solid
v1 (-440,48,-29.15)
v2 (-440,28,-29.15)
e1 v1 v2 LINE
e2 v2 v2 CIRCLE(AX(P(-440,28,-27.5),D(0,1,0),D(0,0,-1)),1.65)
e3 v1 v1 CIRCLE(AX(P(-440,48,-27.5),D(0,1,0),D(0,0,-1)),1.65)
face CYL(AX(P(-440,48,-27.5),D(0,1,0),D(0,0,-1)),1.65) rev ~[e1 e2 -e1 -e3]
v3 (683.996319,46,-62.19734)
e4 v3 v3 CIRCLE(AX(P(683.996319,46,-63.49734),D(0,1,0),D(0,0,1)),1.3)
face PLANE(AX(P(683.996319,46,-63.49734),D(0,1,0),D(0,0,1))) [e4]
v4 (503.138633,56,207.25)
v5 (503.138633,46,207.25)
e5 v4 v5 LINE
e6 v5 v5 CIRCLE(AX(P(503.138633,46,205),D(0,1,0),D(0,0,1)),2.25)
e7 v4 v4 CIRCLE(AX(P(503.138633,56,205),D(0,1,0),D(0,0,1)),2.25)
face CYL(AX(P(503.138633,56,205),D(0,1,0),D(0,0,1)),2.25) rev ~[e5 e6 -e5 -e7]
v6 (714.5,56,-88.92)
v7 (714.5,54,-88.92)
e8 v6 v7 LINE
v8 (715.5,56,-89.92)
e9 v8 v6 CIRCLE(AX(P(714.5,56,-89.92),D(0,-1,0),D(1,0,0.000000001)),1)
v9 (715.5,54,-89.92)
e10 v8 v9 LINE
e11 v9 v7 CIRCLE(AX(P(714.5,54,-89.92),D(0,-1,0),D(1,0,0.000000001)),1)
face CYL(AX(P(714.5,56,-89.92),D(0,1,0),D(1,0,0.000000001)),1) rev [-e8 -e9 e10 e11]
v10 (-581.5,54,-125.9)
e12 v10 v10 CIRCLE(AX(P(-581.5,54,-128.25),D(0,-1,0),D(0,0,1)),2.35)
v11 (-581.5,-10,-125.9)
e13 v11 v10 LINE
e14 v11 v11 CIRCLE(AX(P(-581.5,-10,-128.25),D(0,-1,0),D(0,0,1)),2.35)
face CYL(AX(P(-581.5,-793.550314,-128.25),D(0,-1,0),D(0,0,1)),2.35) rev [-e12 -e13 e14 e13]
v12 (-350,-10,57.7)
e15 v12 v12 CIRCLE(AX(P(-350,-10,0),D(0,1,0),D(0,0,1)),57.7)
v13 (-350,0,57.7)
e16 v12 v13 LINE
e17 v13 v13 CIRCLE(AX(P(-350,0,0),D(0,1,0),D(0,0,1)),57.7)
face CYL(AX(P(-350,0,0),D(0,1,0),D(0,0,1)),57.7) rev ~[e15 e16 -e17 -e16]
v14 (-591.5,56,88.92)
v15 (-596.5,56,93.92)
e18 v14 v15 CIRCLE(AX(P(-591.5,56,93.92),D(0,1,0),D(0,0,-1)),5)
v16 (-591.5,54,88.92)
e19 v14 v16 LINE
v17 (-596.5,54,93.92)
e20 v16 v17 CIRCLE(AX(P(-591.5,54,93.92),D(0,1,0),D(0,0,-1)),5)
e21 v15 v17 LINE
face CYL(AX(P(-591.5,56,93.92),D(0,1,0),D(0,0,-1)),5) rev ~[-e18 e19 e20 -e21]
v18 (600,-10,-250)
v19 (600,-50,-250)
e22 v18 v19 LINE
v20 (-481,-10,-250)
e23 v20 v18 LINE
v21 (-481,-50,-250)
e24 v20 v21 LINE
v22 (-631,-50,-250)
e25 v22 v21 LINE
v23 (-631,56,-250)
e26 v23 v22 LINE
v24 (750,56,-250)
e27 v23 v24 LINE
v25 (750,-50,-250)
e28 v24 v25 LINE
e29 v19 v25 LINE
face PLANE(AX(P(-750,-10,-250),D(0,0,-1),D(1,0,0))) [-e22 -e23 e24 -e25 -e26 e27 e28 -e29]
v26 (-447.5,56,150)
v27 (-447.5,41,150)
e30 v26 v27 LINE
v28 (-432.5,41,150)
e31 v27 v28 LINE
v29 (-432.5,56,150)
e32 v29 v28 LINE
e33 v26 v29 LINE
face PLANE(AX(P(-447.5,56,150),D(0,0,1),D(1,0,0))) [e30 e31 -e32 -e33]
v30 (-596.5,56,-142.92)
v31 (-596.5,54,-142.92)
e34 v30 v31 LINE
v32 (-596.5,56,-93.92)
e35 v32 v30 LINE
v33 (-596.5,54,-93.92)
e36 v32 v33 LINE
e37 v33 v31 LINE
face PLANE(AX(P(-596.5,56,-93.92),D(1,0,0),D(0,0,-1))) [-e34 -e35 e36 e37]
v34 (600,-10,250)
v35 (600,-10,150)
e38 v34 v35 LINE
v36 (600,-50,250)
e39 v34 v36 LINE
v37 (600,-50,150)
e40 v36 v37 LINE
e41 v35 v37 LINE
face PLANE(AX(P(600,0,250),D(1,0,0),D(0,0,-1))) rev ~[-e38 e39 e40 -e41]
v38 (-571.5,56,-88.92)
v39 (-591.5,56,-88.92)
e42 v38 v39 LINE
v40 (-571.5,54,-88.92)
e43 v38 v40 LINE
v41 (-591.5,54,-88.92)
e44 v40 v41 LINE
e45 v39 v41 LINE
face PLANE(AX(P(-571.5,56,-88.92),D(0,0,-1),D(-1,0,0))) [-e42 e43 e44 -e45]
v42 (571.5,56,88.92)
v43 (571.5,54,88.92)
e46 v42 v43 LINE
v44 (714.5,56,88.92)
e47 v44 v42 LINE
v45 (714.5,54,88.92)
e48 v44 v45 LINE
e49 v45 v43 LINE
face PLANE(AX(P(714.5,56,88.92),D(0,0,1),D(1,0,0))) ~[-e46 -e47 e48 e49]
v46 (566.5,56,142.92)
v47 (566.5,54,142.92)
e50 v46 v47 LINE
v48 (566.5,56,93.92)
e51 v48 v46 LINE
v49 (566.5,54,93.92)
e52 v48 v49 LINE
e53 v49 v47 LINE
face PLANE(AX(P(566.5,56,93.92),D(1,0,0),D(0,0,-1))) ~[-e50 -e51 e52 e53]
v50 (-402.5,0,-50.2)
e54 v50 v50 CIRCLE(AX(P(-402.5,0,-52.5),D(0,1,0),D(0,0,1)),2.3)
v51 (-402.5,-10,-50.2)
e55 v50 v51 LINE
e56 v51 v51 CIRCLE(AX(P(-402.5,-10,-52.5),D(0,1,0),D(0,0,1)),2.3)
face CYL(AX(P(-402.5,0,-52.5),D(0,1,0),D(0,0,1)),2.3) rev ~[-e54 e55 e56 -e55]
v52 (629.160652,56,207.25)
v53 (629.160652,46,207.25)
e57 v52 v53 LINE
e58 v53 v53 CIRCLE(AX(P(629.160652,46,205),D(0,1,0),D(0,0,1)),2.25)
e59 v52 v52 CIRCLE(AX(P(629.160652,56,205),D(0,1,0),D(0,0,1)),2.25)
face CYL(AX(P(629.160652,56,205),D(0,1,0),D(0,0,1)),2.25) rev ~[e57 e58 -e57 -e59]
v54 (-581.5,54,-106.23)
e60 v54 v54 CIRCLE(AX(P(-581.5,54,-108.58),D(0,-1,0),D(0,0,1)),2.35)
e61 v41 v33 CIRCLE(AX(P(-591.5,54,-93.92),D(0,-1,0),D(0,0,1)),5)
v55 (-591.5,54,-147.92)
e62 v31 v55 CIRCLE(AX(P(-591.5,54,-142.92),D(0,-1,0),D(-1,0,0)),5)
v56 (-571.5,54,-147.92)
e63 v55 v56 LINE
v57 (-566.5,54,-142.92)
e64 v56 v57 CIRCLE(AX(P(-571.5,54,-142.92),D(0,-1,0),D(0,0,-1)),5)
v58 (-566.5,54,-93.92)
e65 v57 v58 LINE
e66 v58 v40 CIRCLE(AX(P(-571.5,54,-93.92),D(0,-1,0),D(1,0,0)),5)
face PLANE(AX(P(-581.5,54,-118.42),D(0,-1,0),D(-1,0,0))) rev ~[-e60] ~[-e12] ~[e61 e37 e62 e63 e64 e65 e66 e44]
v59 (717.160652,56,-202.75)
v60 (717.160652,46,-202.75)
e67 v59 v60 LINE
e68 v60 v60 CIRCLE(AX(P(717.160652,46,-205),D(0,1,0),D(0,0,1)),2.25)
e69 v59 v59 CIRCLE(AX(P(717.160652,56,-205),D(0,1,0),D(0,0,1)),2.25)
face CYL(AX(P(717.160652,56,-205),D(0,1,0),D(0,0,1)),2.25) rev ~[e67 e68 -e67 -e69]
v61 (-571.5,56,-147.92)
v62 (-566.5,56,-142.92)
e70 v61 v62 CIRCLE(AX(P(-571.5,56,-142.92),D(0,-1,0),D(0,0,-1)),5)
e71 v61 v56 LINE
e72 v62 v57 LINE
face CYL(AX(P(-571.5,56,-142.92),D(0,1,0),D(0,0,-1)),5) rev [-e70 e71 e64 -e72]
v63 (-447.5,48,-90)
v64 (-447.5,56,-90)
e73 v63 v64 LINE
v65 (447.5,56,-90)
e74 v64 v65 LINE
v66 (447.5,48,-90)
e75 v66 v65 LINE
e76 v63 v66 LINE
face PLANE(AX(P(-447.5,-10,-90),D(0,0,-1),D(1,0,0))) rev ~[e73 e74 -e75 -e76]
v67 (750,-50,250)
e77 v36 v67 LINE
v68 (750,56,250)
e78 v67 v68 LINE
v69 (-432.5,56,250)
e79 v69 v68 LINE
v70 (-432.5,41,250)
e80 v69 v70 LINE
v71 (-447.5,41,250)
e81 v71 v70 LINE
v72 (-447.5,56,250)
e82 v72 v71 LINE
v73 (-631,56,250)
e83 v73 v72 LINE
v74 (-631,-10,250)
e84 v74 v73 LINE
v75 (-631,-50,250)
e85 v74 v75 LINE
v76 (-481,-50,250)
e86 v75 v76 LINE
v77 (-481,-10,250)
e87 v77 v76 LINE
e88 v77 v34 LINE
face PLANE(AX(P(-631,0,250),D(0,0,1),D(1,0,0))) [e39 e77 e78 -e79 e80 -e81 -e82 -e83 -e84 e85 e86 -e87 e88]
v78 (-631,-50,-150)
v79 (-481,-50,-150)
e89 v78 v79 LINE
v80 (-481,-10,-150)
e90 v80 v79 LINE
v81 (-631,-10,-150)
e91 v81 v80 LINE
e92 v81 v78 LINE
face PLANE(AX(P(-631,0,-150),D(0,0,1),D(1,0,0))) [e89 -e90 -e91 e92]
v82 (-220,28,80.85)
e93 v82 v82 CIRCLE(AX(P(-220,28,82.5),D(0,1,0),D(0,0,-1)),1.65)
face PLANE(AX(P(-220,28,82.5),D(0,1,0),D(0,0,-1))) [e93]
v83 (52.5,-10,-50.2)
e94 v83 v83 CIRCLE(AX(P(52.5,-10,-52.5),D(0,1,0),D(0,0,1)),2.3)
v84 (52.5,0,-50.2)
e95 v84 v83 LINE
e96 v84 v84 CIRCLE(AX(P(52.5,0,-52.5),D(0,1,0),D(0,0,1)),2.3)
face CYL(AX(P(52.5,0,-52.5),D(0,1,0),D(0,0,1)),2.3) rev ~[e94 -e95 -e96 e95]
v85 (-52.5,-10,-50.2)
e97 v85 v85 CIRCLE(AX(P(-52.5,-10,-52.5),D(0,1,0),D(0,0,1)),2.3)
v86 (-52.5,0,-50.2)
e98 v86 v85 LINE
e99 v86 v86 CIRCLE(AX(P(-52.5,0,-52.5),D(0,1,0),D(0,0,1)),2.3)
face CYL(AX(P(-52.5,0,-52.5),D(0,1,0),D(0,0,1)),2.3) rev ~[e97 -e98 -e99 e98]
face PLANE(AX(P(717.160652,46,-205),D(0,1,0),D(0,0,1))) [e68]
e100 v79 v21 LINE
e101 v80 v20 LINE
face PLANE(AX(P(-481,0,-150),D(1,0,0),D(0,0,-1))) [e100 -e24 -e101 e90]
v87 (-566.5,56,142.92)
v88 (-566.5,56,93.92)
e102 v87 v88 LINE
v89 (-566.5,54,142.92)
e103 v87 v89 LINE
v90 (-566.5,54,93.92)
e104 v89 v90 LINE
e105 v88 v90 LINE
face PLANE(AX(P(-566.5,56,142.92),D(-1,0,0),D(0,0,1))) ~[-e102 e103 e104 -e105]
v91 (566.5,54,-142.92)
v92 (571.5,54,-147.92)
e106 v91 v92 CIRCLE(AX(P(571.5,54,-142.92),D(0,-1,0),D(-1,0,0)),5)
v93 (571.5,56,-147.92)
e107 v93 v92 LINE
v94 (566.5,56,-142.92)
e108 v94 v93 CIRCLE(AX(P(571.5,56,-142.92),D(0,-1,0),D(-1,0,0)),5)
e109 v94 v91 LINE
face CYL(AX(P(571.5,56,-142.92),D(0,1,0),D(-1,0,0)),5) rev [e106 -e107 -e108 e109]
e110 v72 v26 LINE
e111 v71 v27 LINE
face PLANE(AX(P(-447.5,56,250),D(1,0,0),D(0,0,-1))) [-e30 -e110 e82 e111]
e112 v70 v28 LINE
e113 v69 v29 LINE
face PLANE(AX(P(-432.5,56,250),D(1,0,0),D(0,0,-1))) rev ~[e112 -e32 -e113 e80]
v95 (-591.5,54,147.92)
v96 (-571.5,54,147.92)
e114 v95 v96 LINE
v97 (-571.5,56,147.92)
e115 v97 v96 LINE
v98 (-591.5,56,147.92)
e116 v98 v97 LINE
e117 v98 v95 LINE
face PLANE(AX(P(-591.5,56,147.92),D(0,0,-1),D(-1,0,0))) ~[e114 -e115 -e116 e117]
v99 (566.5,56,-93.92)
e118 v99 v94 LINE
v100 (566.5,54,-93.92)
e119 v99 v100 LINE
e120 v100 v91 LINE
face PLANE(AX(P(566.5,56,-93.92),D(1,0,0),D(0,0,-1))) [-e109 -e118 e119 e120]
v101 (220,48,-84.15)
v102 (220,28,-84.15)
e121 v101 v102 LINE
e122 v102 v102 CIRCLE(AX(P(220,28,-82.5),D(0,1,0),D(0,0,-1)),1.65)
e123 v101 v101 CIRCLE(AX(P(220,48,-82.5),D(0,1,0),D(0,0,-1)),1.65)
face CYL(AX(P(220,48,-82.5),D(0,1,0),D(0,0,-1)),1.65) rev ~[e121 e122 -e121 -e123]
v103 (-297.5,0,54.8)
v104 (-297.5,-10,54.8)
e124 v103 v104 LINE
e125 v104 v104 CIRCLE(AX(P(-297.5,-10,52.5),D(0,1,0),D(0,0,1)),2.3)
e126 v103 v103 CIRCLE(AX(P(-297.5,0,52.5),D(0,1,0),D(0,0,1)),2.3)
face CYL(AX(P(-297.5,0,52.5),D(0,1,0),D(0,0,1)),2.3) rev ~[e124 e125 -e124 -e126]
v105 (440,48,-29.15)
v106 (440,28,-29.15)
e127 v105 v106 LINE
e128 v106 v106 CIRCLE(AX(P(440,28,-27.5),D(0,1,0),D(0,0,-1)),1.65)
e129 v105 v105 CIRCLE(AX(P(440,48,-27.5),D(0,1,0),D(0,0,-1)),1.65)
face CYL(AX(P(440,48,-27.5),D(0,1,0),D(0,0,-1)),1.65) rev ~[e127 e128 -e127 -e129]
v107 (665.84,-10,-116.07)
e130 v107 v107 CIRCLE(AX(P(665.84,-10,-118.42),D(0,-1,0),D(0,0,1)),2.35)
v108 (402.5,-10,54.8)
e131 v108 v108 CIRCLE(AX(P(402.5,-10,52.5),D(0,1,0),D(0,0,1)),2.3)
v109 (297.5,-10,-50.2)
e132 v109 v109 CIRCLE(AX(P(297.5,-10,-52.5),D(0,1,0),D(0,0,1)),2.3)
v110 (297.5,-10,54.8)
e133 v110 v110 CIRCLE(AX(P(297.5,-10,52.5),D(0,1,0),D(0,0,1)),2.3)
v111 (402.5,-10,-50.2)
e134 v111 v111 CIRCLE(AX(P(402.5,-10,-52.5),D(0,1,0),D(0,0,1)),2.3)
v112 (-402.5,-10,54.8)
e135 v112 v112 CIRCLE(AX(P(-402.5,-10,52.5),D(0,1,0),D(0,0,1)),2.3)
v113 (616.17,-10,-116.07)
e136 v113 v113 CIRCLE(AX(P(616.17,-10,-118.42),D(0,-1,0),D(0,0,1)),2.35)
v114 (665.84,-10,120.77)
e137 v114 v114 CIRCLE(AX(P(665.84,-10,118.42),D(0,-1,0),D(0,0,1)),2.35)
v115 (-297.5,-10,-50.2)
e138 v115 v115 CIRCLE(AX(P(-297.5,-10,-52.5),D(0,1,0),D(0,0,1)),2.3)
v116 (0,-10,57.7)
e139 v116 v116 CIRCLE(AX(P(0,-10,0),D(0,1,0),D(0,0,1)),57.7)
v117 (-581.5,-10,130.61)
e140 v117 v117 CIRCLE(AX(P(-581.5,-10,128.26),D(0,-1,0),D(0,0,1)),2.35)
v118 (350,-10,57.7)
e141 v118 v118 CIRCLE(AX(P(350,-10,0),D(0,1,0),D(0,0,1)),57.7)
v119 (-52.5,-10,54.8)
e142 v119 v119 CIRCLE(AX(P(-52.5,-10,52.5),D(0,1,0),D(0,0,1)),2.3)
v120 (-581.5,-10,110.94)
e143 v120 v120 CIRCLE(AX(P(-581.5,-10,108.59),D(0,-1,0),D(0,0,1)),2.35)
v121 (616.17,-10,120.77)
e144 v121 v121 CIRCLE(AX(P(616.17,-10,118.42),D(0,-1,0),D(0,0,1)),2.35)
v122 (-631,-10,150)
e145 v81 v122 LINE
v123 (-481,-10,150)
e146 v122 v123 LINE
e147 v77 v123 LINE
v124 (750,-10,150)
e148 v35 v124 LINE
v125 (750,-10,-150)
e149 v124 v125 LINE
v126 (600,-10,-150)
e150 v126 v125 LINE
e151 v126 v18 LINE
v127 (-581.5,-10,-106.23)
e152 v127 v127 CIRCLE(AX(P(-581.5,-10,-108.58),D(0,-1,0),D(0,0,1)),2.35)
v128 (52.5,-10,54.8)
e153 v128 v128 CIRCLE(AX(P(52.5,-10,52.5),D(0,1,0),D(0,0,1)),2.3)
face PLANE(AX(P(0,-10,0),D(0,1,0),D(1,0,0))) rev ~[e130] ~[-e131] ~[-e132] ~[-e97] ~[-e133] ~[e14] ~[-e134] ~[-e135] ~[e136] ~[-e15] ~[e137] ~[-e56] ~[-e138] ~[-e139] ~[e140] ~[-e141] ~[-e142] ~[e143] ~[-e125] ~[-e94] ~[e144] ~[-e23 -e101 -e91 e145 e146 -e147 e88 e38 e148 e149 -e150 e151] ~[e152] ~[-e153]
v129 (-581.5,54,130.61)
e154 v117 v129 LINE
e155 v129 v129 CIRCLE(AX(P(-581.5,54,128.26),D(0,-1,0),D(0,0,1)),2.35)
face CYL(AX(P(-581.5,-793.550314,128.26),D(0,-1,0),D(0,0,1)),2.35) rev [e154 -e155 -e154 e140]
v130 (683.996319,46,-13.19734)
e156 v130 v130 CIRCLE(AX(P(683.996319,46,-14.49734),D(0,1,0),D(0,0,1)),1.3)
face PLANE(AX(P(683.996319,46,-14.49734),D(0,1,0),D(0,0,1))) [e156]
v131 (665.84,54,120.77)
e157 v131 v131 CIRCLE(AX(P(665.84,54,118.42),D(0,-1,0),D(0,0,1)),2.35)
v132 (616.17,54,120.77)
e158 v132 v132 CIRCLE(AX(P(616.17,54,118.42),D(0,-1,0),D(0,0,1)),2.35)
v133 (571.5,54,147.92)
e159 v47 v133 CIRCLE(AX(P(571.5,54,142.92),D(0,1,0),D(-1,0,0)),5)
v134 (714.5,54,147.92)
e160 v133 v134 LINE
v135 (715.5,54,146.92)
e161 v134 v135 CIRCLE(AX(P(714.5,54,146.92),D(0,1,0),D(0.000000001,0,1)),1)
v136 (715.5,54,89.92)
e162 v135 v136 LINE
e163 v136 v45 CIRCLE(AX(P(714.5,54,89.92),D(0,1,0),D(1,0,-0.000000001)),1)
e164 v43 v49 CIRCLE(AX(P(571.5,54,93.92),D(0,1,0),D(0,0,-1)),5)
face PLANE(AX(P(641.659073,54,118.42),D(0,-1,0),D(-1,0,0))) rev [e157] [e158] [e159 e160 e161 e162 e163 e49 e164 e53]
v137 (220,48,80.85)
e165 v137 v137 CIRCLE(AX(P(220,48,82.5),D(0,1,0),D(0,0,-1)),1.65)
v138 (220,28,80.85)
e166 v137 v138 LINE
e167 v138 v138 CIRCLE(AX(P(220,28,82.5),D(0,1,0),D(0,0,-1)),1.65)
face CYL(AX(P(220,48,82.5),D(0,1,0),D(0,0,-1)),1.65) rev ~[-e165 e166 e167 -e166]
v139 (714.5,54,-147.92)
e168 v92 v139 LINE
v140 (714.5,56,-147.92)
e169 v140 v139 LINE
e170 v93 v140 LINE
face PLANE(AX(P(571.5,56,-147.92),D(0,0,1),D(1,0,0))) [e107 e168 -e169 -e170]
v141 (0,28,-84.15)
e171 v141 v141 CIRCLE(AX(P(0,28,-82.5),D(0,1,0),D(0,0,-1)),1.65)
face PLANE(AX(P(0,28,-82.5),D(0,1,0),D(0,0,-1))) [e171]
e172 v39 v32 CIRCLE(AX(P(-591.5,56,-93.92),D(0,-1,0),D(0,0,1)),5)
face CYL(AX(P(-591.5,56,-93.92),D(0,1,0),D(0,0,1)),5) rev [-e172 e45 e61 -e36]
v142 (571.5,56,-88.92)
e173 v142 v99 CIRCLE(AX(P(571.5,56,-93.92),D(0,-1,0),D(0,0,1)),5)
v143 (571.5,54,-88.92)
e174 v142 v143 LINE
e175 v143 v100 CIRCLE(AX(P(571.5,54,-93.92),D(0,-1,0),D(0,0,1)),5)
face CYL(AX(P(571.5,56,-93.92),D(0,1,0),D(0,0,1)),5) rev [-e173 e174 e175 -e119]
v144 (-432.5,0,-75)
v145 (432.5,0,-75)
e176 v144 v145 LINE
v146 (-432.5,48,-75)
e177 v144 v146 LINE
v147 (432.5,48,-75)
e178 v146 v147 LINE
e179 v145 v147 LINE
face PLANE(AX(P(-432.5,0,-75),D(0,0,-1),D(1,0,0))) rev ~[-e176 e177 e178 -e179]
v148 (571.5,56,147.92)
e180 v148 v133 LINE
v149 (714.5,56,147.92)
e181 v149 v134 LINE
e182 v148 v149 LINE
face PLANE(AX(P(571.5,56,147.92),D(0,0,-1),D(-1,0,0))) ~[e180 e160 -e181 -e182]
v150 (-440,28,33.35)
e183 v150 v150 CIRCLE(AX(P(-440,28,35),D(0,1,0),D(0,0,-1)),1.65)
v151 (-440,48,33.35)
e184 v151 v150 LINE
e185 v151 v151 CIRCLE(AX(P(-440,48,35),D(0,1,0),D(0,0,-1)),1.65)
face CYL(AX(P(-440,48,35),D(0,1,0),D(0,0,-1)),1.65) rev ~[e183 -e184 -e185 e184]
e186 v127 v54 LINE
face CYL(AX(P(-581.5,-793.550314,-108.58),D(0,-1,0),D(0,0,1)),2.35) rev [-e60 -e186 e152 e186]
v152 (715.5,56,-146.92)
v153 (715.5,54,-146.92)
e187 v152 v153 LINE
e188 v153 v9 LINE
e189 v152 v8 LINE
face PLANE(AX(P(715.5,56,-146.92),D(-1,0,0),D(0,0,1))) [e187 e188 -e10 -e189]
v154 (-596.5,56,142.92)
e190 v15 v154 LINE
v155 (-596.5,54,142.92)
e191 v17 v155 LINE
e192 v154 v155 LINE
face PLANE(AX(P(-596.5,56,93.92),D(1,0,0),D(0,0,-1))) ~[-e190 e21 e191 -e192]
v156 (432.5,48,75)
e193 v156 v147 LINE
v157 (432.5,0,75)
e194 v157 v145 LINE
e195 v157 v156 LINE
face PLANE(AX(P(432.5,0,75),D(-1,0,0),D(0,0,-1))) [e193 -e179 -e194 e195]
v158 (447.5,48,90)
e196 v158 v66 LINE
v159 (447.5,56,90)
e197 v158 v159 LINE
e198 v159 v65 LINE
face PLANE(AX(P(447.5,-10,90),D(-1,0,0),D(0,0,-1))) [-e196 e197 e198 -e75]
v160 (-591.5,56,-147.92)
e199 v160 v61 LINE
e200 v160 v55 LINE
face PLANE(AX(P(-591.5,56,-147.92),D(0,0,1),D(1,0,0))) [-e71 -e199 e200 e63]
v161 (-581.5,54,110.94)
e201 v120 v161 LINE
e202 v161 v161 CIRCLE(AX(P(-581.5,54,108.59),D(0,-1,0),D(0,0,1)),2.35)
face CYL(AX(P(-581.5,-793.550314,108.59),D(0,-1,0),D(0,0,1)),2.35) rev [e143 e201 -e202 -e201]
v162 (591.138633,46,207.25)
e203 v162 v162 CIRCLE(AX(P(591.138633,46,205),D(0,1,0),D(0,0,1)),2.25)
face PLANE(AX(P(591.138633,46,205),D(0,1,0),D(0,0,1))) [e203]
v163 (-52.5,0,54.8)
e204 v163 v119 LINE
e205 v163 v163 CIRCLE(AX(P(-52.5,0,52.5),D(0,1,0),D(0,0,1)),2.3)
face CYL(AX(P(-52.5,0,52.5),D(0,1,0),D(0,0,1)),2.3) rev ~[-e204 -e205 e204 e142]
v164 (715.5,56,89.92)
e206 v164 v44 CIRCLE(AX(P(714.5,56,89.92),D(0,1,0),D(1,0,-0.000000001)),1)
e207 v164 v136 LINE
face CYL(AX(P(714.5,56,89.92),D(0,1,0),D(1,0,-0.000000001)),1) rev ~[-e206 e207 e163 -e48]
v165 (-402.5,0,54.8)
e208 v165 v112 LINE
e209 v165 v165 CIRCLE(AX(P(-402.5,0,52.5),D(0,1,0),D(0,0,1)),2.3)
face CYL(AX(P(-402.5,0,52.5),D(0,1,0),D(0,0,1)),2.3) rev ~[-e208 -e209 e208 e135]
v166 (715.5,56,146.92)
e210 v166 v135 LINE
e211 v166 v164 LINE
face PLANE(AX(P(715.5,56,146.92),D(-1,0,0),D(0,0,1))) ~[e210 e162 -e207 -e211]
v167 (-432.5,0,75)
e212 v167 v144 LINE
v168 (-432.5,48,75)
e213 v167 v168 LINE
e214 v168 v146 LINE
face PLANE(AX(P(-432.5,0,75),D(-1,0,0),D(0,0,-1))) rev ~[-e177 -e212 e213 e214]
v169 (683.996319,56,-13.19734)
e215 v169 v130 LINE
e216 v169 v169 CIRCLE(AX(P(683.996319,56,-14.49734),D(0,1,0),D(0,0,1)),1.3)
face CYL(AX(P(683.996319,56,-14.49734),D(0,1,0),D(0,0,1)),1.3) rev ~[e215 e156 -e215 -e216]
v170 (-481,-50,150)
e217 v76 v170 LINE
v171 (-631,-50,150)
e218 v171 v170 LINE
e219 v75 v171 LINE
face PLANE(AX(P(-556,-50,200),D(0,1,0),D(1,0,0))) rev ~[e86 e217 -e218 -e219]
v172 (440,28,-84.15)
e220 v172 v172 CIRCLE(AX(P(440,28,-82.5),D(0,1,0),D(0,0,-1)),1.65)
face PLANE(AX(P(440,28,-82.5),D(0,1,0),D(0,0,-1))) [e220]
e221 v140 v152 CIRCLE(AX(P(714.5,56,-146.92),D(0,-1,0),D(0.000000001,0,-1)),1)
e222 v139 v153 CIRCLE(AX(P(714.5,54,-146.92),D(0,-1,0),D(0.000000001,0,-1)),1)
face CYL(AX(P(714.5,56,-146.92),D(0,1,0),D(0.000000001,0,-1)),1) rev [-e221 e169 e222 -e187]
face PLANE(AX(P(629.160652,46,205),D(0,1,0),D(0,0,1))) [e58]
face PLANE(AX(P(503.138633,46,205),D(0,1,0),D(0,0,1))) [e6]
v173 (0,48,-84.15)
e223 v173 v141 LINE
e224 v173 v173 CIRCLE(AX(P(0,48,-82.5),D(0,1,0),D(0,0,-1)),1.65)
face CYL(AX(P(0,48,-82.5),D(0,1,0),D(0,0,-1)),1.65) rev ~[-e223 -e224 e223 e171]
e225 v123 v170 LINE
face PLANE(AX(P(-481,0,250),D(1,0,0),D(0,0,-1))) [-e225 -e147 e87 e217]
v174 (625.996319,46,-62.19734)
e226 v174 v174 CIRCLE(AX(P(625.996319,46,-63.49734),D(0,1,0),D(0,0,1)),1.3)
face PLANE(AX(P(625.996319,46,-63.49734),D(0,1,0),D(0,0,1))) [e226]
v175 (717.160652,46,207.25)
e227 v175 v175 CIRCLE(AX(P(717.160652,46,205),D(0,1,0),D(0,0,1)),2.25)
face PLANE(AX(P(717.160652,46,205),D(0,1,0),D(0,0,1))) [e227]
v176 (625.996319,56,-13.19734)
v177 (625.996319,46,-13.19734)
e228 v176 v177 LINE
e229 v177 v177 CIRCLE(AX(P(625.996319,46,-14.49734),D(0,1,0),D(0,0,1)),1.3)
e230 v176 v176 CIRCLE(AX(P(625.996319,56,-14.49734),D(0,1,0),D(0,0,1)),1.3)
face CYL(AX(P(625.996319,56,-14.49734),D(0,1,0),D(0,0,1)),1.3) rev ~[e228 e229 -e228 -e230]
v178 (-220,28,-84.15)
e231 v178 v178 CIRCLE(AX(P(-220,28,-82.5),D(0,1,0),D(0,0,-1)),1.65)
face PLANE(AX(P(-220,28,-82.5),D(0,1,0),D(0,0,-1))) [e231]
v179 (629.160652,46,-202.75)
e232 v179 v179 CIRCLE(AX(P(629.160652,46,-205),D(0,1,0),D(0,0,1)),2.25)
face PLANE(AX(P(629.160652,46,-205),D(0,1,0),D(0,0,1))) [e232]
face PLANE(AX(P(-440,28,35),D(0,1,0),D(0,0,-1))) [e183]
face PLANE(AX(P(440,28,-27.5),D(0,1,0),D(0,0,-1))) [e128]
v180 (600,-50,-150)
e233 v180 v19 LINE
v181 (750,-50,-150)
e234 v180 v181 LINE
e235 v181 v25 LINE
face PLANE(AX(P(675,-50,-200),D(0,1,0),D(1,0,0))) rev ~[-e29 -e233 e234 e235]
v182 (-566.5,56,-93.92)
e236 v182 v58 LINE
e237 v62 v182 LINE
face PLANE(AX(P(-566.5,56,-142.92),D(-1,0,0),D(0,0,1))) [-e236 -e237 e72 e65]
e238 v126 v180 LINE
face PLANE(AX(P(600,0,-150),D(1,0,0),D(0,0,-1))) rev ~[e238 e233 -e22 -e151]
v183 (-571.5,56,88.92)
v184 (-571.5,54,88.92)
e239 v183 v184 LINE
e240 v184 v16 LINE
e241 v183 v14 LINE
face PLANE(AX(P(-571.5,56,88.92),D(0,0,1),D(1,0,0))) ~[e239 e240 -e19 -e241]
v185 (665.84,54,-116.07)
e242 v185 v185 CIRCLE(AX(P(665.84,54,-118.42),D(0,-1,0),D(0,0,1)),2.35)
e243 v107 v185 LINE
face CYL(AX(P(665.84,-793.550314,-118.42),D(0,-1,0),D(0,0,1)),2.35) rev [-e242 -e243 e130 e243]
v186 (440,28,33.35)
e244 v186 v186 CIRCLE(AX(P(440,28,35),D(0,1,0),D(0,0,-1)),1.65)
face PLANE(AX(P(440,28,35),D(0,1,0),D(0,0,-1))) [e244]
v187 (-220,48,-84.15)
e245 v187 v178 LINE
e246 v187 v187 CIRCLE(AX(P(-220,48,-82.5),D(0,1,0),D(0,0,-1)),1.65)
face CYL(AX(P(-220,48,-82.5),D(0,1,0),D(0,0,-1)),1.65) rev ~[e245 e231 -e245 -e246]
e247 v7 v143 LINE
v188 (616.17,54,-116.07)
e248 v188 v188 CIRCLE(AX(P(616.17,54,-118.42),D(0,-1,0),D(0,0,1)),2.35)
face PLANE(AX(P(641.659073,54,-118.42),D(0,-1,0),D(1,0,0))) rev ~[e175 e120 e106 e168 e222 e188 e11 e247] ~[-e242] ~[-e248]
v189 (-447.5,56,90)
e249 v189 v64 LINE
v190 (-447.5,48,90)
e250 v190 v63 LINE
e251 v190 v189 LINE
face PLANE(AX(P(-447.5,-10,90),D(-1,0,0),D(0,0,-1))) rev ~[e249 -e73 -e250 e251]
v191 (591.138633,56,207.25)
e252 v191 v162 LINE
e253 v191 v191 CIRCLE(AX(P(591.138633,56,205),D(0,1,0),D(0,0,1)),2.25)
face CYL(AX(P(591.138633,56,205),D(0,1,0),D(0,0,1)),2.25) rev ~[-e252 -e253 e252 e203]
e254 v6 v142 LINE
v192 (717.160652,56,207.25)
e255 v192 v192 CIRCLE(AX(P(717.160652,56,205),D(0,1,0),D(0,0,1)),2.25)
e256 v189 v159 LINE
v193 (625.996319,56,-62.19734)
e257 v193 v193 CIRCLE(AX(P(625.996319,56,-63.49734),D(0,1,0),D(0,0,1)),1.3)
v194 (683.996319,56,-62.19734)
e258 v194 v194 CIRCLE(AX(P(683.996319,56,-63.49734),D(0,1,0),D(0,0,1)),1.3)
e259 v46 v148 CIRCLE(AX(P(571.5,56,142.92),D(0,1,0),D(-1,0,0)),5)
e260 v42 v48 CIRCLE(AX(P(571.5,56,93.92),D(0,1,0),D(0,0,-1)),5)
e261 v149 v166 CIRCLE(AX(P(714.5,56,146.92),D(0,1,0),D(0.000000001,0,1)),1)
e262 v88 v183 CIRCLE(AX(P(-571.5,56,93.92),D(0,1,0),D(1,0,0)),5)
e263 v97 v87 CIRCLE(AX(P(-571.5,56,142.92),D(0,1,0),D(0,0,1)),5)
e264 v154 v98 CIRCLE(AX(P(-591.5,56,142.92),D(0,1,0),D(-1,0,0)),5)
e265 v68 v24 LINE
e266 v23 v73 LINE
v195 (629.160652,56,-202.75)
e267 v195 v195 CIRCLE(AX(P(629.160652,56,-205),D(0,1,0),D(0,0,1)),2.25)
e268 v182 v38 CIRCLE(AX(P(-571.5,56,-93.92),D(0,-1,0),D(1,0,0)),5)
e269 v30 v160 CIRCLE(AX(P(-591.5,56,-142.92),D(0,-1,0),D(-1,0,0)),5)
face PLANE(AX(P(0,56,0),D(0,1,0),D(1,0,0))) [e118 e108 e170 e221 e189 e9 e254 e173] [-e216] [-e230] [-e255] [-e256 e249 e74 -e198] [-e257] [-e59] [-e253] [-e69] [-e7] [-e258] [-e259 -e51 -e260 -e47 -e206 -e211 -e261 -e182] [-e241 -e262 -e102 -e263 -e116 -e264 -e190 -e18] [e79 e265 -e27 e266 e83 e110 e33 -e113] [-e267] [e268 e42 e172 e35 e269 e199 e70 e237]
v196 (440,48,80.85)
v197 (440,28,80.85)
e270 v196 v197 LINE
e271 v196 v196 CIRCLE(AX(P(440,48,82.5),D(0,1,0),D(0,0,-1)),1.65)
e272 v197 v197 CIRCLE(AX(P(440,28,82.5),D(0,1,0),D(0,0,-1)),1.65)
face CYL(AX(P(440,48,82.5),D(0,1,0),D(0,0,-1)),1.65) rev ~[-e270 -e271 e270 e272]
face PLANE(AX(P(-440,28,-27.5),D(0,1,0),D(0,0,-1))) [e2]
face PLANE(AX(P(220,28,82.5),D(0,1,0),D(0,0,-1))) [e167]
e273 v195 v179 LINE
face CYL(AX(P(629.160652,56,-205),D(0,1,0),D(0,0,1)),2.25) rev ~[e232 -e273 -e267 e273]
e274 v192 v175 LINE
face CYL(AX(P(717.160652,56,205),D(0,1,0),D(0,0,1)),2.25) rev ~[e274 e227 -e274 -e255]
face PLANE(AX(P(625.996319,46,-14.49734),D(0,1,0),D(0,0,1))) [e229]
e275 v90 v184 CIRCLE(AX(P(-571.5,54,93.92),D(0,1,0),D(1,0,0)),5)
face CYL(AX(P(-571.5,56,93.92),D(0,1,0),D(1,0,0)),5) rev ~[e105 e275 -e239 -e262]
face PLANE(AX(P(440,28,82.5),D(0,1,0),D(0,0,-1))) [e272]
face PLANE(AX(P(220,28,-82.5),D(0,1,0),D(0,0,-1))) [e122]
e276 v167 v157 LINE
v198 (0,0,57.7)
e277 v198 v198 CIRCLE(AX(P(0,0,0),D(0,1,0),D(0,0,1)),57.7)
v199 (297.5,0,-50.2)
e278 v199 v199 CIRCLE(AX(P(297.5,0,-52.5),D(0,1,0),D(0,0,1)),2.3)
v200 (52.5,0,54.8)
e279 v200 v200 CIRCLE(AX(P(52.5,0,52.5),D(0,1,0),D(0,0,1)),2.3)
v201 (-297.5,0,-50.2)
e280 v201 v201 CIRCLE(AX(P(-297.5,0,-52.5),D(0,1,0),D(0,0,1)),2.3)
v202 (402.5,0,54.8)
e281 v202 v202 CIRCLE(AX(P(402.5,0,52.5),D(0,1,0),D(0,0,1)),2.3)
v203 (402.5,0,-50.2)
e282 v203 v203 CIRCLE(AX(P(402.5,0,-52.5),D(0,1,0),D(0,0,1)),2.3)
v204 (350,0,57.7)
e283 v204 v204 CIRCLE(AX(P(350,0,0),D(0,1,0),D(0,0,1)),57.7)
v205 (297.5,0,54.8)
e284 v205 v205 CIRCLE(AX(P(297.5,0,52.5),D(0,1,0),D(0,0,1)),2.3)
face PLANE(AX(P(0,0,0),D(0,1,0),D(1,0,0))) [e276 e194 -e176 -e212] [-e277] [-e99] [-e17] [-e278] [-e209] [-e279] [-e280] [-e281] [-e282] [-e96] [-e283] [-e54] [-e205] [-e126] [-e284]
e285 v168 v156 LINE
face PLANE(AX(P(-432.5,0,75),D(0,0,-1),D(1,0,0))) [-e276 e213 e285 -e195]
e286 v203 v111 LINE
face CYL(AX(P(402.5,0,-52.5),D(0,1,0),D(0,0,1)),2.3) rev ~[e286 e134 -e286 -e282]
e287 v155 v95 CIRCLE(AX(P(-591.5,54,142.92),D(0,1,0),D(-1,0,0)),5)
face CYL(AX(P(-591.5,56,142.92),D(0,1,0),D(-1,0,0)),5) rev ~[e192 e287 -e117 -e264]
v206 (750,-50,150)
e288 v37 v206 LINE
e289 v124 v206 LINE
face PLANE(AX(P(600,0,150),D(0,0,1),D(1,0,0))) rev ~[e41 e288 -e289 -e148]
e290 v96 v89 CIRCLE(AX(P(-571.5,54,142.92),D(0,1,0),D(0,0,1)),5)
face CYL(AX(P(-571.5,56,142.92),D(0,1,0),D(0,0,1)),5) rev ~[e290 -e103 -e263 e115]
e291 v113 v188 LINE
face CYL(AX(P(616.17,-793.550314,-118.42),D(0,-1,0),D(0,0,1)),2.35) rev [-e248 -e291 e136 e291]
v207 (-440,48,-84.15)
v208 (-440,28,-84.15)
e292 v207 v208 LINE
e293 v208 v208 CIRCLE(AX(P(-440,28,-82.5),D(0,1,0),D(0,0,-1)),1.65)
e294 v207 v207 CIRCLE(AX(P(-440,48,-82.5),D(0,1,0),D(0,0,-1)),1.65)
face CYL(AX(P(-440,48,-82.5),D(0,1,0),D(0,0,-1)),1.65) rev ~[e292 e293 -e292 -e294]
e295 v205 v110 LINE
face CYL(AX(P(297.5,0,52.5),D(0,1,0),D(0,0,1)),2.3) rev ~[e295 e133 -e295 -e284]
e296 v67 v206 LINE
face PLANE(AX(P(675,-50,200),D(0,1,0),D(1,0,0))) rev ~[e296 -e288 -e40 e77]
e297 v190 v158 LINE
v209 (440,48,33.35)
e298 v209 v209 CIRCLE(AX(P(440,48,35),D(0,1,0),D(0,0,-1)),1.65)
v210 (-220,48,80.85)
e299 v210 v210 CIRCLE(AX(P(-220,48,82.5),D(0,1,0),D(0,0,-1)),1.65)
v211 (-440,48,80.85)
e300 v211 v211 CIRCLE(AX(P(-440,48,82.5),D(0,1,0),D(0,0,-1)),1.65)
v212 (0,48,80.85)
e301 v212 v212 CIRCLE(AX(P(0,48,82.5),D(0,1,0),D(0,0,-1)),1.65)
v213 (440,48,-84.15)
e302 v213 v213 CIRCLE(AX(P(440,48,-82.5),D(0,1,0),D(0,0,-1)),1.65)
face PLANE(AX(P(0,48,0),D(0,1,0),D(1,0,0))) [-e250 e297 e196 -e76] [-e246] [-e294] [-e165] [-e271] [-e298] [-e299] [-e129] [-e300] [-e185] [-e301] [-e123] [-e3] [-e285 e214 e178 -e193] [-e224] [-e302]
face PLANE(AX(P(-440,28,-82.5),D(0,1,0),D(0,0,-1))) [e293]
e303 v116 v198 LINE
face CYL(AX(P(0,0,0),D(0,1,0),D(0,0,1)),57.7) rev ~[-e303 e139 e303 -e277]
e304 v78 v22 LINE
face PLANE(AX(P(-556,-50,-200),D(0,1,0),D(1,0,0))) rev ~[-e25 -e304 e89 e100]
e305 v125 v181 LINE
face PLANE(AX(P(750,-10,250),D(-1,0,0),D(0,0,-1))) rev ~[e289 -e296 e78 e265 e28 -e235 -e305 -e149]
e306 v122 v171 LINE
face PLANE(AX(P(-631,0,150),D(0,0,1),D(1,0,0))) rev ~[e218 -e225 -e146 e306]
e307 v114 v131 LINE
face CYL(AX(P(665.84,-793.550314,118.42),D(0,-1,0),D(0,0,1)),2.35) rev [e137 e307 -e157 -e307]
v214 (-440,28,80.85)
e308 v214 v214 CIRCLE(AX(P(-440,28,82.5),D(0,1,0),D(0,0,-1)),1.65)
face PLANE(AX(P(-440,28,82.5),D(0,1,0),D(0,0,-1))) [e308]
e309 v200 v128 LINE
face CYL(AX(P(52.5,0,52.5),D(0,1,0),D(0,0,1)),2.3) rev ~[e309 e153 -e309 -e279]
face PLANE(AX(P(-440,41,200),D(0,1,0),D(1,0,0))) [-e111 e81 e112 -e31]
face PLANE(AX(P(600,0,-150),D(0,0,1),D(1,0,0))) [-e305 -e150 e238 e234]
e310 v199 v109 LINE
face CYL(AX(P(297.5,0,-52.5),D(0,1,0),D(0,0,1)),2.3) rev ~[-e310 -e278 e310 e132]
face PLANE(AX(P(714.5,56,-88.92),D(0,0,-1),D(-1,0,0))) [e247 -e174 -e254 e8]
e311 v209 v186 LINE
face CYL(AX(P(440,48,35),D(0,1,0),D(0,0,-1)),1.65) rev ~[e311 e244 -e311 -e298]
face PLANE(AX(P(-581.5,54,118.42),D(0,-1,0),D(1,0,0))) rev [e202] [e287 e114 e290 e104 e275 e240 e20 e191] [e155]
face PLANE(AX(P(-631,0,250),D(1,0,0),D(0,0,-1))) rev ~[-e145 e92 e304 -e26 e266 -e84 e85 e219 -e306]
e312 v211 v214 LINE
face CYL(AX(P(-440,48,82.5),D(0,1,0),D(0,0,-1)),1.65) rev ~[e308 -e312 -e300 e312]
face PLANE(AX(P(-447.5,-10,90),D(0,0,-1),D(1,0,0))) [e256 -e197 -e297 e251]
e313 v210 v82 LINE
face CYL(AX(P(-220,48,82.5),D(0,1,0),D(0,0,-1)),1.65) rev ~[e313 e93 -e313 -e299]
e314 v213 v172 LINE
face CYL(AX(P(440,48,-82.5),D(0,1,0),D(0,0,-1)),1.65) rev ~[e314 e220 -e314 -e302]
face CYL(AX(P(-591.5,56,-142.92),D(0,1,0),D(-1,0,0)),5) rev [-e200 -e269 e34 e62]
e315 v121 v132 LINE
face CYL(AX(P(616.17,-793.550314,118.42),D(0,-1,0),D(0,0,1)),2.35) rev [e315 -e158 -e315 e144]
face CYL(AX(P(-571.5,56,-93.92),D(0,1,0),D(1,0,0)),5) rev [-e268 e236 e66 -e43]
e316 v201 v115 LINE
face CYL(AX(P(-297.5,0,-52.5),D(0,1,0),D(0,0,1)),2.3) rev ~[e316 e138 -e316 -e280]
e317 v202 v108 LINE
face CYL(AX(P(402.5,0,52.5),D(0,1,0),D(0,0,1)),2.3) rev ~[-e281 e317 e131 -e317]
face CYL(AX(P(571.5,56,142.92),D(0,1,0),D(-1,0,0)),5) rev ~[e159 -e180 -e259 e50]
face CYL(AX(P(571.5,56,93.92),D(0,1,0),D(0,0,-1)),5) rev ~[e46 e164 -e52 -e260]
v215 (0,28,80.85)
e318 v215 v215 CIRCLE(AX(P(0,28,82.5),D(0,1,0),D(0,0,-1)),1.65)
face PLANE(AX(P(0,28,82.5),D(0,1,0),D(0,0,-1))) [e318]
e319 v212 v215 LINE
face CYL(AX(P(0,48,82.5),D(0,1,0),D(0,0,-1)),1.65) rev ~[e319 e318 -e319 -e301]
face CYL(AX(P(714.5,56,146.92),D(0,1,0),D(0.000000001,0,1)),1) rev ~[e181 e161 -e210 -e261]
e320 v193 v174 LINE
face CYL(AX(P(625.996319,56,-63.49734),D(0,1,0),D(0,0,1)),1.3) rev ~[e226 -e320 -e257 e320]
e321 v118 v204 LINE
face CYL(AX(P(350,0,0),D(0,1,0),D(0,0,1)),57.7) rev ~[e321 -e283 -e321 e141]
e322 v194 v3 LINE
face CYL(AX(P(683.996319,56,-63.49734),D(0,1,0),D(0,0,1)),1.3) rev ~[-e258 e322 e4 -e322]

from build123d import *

# Parameters (mm, degrees)
SKETCH19_W               = 895
SKETCH19_H               = 180
SKETCH19_W_2             = 865
SKETCH19_H_2             = 150
BOSS_EXTRUDE2_DEPTH      = 48
SKETCH22_W               = 895
SKETCH22_H               = 180
BOSS_EXTRUDE3_DEPTH      = 10
BOSS_EXTRUDE4_DEPTH      = 56
BOSS_EXTRUDE4_DEPTH_BACK = 10
SKETCH23_W               = 1500
SKETCH23_H               = 500
SKETCH23_W_2             = 895
SKETCH23_H_2             = 180
CUT_EXTRUDE6_START       = 48
SKETCH26_R               = 1.65
CUT_EXTRUDE6_DEPTH       = 20
LPATTERN1_COUNT          = 5
LPATTERN1_PITCH          = 220
SKETCH28_R               = 2.3
SKETCH28_R_2             = 57.7
CUT_EXTRUDE7_DEPTH       = 793.55031386
LPATTERN2_COUNT          = 2
LPATTERN2_PITCH          = 350
LPATTERN2_COL_COUNT      = 2
LPATTERN2_COL_PITCH      = 350
CUT_EXTRUDE8_START       = 48
SKETCH27_R               = 1.65
CUT_EXTRUDE8_DEPTH       = 20
CUT_EXTRUDE9_START       = -56
CUT_EXTRUDE9_DEPTH       = 2
CUT_EXTRUDE10_START      = 56
CUT_EXTRUDE10_DEPTH      = 2
CUT_EXTRUDE11_DEPTH      = 793.55031386
CUT_EXTRUDE11_DEPTH_BACK = 793.55031386
SKETCH33_R               = 2.35
CUT_EXTRUDE12_DEPTH      = 793.55031386
CUT_EXTRUDE12_DEPTH_BACK = 793.55031386
SKETCH34_W               = 190.830831748
SKETCH34_H               = 540.530008981
SKETCH29_W               = 150
SKETCH29_H               = 100
BOSS_EXTRUDE5_DEPTH      = 50
CUT_EXTRUDE13_START      = 56
SKETCH35_W               = 15
SKETCH35_H               = 100
CUT_EXTRUDE13_DEPTH      = 15
SKETCH36_R               = 1.3
CUT_EXTRUDE14_DEPTH      = 10
SKETCH37_R               = 2.25
CUT_EXTRUDE15_DEPTH      = 10


with BuildPart() as part:
    # Sketch19 → Boss-Extrude2 (new body)
    with BuildSketch(Plane(origin=(0, 0, 0), x_dir=(1, 0, 0), z_dir=(0, 1, 0))):
        Rectangle(SKETCH19_W, SKETCH19_H)
        Rectangle(SKETCH19_W_2, SKETCH19_H_2, mode=Mode.SUBTRACT)
    extrude(amount=BOSS_EXTRUDE2_DEPTH)

    # Sketch22 → Boss-Extrude3 (add)
    with BuildSketch(Plane(origin=(0, 0, 0), x_dir=(1, 0, 0), z_dir=(0, 1, 0))):
        Rectangle(SKETCH22_W, SKETCH22_H)
    extrude(amount=-BOSS_EXTRUDE3_DEPTH)

    # Sketch23 → Boss-Extrude4 (add, two sides: drawn at the far end of the back side and taken through both)
    with BuildSketch(Plane(origin=(0, 0, 0), x_dir=(1, 0, 0), z_dir=(0, 1, 0)).offset(-BOSS_EXTRUDE4_DEPTH_BACK)):
        Rectangle(SKETCH23_W, SKETCH23_H)
        Rectangle(SKETCH23_W_2, SKETCH23_H_2, mode=Mode.SUBTRACT)
    extrude(amount=BOSS_EXTRUDE4_DEPTH + BOSS_EXTRUDE4_DEPTH_BACK)

    # Sketch26 → Cut-Extrude6 (cut)
    with BuildSketch(Plane(origin=(0, 0, 0), x_dir=(1, 0, 0), z_dir=(0, 1, 0)).offset(CUT_EXTRUDE6_START)):
        with Locations(Location((-440, -82.5, 0), (0, 0, 90))):
            Circle(SKETCH26_R)
        with Locations(Location((-440, 82.5, 0), (0, 0, 90))):
            Circle(SKETCH26_R)
    cut_extrude6 = extrude(amount=-CUT_EXTRUDE6_DEPTH, mode=Mode.SUBTRACT)

    # LPattern1: Cut-Extrude6 ×5
    with Locations(*[(i * LPATTERN1_PITCH, 0, 0) for i in range(1, LPATTERN1_COUNT)]):
        add(cut_extrude6, mode=Mode.SUBTRACT)

    # Sketch28 → Cut-Extrude7 (cut, symmetric)
    with BuildSketch(Plane(origin=(0, 0, 0), x_dir=(1, 0, 0), z_dir=(0, 1, 0))):
        with Locations(Location((-52.5, 52.5, 0), (0, 0, 270))):
            Circle(SKETCH28_R)
        with Locations(Location((52.5, 52.5, 0), (0, 0, 270))):
            Circle(SKETCH28_R)
        with Locations(Location((52.5, -52.5, 0), (0, 0, 270))):
            Circle(SKETCH28_R)
        with Locations(Location((-52.5, -52.5, 0), (0, 0, 270))):
            Circle(SKETCH28_R)
        with Locations(Location((0, 0, 0), (0, 0, 270))):
            Circle(SKETCH28_R_2)
    cut_extrude7 = extrude(amount=CUT_EXTRUDE7_DEPTH, both=True, mode=Mode.SUBTRACT)

    # LPattern2: Cut-Extrude7 ×2
    with Locations(*[(-i * LPATTERN2_PITCH, 0, 0) for i in range(1, LPATTERN2_COUNT)]):
        add(cut_extrude7, mode=Mode.SUBTRACT)

    # LPattern2 col: Cut-Extrude7 ×2
    with Locations(*[(i * LPATTERN2_COL_PITCH, 0, 0) for i in range(1, LPATTERN2_COL_COUNT)]):
        add(cut_extrude7, mode=Mode.SUBTRACT)

    # Sketch27 → Cut-Extrude8 (cut)
    with BuildSketch(Plane(origin=(0, 0, 0), x_dir=(1, 0, 0), z_dir=(0, 1, 0)).offset(CUT_EXTRUDE8_START)):
        with Locations(Location((-440, 27.5, 0), (0, 0, 90))):
            Circle(SKETCH27_R)
        with Locations(Location((-440, -35, 0), (0, 0, 90))):
            Circle(SKETCH27_R)
        with Locations(Location((440, -35, 0), (0, 0, 90))):
            Circle(SKETCH27_R)
        with Locations(Location((440, 27.5, 0), (0, 0, 90))):
            Circle(SKETCH27_R)
    extrude(amount=-CUT_EXTRUDE8_DEPTH, mode=Mode.SUBTRACT)

    # Sketch30 → Cut-Extrude9 (cut)
    with BuildSketch(Plane.XZ.offset(CUT_EXTRUDE9_START)):
        with BuildLine():
            Line((571.5, -147.92), (714.5, -147.92))
            ThreePointArc((714.5, -147.92), (715.207106781, -147.627106781), (715.5, -146.92))
            Line((715.5, -146.92), (715.5, -89.92))
            ThreePointArc((715.5, -89.92), (715.207106781, -89.212893219), (714.5, -88.92))
            Line((714.5, -88.92), (571.5, -88.92))
            ThreePointArc((571.5, -88.92), (567.964466094, -90.384466094), (566.5, -93.92))
            Line((566.5, -93.92), (566.5, -142.92))
            ThreePointArc((566.5, -142.92), (567.964466094, -146.455533906), (571.5, -147.92))
        make_face()
    cut_extrude9 = extrude(amount=CUT_EXTRUDE9_DEPTH, mode=Mode.SUBTRACT)

    # Mirror1: Cut-Extrude9 across plane
    add(cut_extrude9.mirror(Plane.XY), mode=Mode.SUBTRACT)

    # Sketch32 → Cut-Extrude10 (cut)
    with BuildSketch(Plane(origin=(0, 0, 0), x_dir=(1, 0, 0), z_dir=(0, 1, 0)).offset(CUT_EXTRUDE10_START)):
        with BuildLine():
            Line((-591.5, 147.92), (-571.5, 147.92))
            ThreePointArc((-571.5, 147.92), (-567.964466094, 146.455533906), (-566.5, 142.92))
            Line((-566.5, 142.92), (-566.5, 93.92))
            ThreePointArc((-566.5, 93.92), (-567.964466094, 90.384466094), (-571.5, 88.92))
            Line((-571.5, 88.92), (-591.5, 88.92))
            ThreePointArc((-591.5, 88.92), (-595.035533906, 90.384466094), (-596.5, 93.92))
            Line((-596.5, 93.92), (-596.5, 142.92))
            ThreePointArc((-596.5, 142.92), (-595.035533906, 146.455533906), (-591.5, 147.92))
        make_face()
    cut_extrude10 = extrude(amount=-CUT_EXTRUDE10_DEPTH, mode=Mode.SUBTRACT)

    # Mirror2: Cut-Extrude10 across plane
    add(cut_extrude10.mirror(Plane.XY), mode=Mode.SUBTRACT)

    # Sketch33 → Cut-Extrude11 (cut, two sides: drawn at the far end of the back side and taken through both)
    with BuildSketch(Plane(origin=(0, 0, 0), x_dir=(1, 0, 0), z_dir=(0, 1, 0)).offset(-CUT_EXTRUDE11_DEPTH_BACK)):
        with Locations(Location((-581.5, 108.58, 0), (0, 0, 270))):
            Circle(SKETCH33_R)
        with Locations(Location((-581.5, -108.59, 0), (0, 0, 270))):
            Circle(SKETCH33_R)
        with Locations(Location((-581.5, 128.25, 0), (0, 0, 270))):
            Circle(SKETCH33_R)
        with Locations(Location((-581.5, -128.26, 0), (0, 0, 270))):
            Circle(SKETCH33_R)
        with Locations(Location((616.17, -118.42, 0), (0, 0, 270))):
            Circle(SKETCH33_R)
        with Locations(Location((665.84, -118.42, 0), (0, 0, 270))):
            Circle(SKETCH33_R)
        with Locations(Location((616.17, 118.42, 0), (0, 0, 270))):
            Circle(SKETCH33_R)
        with Locations(Location((665.84, 118.42, 0), (0, 0, 270))):
            Circle(SKETCH33_R)
    extrude(amount=CUT_EXTRUDE11_DEPTH + CUT_EXTRUDE11_DEPTH_BACK, mode=Mode.SUBTRACT)

    # Sketch34 → Cut-Extrude12 (cut, two sides: drawn at the far end of the back side and taken through both)
    with BuildSketch(Plane(origin=(0, 0, 0), x_dir=(1, 0, 0), z_dir=(0, 1, 0)).offset(-CUT_EXTRUDE12_DEPTH_BACK)):
        with Locations((-726.415415874, 20.265004491)):
            Rectangle(SKETCH34_W, SKETCH34_H)
    extrude(amount=CUT_EXTRUDE12_DEPTH + CUT_EXTRUDE12_DEPTH_BACK, mode=Mode.SUBTRACT)

    # Sketch29 → Boss-Extrude5 (add)
    with BuildSketch(Plane(origin=(0, 0, 0), x_dir=(1, 0, 0), z_dir=(0, 1, 0))):
        with Locations((-556, -200)):
            Rectangle(SKETCH29_W, SKETCH29_H)
        with Locations((-556, 200)):
            Rectangle(SKETCH29_W, SKETCH29_H)
        with Locations((675, -200)):
            Rectangle(SKETCH29_W, SKETCH29_H)
        with Locations((675, 200)):
            Rectangle(SKETCH29_W, SKETCH29_H)
    extrude(amount=-BOSS_EXTRUDE5_DEPTH)

    # Sketch35 → Cut-Extrude13 (cut)
    with BuildSketch(Plane(origin=(0, 0, 0), x_dir=(1, 0, 0), z_dir=(0, 1, 0)).offset(CUT_EXTRUDE13_START)):
        with Locations((-440, -200)):
            Rectangle(SKETCH35_W, SKETCH35_H)
    extrude(amount=-CUT_EXTRUDE13_DEPTH, mode=Mode.SUBTRACT)

    # Sketch36 → Cut-Extrude14 (cut)
    with BuildSketch(Plane(origin=(0, 56, 0), x_dir=(-1, 0, 0), z_dir=(0, 1, 0))):
        with Locations(Location((-683.996319, -14.497340105, 0), (0, 0, 90))):
            Circle(SKETCH36_R)
        with Locations(Location((-683.996319, -63.497340105, 0), (0, 0, 90))):
            Circle(SKETCH36_R)
        with Locations(Location((-625.996319, -63.497340105, 0), (0, 0, 90))):
            Circle(SKETCH36_R)
        with Locations(Location((-625.996319, -14.497340105, 0), (0, 0, 90))):
            Circle(SKETCH36_R)
    extrude(amount=-CUT_EXTRUDE14_DEPTH, mode=Mode.SUBTRACT)

    # Sketch37 → Cut-Extrude15 (cut)
    with BuildSketch(Plane(origin=(0, 56, 0), x_dir=(1, 0, 0), z_dir=(0, 1, 0))):
        with Locations(Location((717.160651903, -205, 0), (0, 0, 270))):
            Circle(SKETCH37_R)
        with Locations(Location((629.160651903, -205, 0), (0, 0, 270))):
            Circle(SKETCH37_R)
        with Locations(Location((591.138632586, -205, 0), (0, 0, 270))):
            Circle(SKETCH37_R)
        with Locations(Location((503.138632586, -205, 0), (0, 0, 270))):
            Circle(SKETCH37_R)
        with Locations(Location((717.160651903, 205, 0), (0, 0, 270))):
            Circle(SKETCH37_R)
        with Locations(Location((629.160651903, 205, 0), (0, 0, 270))):
            Circle(SKETCH37_R)
    extrude(amount=-CUT_EXTRUDE15_DEPTH, mode=Mode.SUBTRACT)


solid = part.part
